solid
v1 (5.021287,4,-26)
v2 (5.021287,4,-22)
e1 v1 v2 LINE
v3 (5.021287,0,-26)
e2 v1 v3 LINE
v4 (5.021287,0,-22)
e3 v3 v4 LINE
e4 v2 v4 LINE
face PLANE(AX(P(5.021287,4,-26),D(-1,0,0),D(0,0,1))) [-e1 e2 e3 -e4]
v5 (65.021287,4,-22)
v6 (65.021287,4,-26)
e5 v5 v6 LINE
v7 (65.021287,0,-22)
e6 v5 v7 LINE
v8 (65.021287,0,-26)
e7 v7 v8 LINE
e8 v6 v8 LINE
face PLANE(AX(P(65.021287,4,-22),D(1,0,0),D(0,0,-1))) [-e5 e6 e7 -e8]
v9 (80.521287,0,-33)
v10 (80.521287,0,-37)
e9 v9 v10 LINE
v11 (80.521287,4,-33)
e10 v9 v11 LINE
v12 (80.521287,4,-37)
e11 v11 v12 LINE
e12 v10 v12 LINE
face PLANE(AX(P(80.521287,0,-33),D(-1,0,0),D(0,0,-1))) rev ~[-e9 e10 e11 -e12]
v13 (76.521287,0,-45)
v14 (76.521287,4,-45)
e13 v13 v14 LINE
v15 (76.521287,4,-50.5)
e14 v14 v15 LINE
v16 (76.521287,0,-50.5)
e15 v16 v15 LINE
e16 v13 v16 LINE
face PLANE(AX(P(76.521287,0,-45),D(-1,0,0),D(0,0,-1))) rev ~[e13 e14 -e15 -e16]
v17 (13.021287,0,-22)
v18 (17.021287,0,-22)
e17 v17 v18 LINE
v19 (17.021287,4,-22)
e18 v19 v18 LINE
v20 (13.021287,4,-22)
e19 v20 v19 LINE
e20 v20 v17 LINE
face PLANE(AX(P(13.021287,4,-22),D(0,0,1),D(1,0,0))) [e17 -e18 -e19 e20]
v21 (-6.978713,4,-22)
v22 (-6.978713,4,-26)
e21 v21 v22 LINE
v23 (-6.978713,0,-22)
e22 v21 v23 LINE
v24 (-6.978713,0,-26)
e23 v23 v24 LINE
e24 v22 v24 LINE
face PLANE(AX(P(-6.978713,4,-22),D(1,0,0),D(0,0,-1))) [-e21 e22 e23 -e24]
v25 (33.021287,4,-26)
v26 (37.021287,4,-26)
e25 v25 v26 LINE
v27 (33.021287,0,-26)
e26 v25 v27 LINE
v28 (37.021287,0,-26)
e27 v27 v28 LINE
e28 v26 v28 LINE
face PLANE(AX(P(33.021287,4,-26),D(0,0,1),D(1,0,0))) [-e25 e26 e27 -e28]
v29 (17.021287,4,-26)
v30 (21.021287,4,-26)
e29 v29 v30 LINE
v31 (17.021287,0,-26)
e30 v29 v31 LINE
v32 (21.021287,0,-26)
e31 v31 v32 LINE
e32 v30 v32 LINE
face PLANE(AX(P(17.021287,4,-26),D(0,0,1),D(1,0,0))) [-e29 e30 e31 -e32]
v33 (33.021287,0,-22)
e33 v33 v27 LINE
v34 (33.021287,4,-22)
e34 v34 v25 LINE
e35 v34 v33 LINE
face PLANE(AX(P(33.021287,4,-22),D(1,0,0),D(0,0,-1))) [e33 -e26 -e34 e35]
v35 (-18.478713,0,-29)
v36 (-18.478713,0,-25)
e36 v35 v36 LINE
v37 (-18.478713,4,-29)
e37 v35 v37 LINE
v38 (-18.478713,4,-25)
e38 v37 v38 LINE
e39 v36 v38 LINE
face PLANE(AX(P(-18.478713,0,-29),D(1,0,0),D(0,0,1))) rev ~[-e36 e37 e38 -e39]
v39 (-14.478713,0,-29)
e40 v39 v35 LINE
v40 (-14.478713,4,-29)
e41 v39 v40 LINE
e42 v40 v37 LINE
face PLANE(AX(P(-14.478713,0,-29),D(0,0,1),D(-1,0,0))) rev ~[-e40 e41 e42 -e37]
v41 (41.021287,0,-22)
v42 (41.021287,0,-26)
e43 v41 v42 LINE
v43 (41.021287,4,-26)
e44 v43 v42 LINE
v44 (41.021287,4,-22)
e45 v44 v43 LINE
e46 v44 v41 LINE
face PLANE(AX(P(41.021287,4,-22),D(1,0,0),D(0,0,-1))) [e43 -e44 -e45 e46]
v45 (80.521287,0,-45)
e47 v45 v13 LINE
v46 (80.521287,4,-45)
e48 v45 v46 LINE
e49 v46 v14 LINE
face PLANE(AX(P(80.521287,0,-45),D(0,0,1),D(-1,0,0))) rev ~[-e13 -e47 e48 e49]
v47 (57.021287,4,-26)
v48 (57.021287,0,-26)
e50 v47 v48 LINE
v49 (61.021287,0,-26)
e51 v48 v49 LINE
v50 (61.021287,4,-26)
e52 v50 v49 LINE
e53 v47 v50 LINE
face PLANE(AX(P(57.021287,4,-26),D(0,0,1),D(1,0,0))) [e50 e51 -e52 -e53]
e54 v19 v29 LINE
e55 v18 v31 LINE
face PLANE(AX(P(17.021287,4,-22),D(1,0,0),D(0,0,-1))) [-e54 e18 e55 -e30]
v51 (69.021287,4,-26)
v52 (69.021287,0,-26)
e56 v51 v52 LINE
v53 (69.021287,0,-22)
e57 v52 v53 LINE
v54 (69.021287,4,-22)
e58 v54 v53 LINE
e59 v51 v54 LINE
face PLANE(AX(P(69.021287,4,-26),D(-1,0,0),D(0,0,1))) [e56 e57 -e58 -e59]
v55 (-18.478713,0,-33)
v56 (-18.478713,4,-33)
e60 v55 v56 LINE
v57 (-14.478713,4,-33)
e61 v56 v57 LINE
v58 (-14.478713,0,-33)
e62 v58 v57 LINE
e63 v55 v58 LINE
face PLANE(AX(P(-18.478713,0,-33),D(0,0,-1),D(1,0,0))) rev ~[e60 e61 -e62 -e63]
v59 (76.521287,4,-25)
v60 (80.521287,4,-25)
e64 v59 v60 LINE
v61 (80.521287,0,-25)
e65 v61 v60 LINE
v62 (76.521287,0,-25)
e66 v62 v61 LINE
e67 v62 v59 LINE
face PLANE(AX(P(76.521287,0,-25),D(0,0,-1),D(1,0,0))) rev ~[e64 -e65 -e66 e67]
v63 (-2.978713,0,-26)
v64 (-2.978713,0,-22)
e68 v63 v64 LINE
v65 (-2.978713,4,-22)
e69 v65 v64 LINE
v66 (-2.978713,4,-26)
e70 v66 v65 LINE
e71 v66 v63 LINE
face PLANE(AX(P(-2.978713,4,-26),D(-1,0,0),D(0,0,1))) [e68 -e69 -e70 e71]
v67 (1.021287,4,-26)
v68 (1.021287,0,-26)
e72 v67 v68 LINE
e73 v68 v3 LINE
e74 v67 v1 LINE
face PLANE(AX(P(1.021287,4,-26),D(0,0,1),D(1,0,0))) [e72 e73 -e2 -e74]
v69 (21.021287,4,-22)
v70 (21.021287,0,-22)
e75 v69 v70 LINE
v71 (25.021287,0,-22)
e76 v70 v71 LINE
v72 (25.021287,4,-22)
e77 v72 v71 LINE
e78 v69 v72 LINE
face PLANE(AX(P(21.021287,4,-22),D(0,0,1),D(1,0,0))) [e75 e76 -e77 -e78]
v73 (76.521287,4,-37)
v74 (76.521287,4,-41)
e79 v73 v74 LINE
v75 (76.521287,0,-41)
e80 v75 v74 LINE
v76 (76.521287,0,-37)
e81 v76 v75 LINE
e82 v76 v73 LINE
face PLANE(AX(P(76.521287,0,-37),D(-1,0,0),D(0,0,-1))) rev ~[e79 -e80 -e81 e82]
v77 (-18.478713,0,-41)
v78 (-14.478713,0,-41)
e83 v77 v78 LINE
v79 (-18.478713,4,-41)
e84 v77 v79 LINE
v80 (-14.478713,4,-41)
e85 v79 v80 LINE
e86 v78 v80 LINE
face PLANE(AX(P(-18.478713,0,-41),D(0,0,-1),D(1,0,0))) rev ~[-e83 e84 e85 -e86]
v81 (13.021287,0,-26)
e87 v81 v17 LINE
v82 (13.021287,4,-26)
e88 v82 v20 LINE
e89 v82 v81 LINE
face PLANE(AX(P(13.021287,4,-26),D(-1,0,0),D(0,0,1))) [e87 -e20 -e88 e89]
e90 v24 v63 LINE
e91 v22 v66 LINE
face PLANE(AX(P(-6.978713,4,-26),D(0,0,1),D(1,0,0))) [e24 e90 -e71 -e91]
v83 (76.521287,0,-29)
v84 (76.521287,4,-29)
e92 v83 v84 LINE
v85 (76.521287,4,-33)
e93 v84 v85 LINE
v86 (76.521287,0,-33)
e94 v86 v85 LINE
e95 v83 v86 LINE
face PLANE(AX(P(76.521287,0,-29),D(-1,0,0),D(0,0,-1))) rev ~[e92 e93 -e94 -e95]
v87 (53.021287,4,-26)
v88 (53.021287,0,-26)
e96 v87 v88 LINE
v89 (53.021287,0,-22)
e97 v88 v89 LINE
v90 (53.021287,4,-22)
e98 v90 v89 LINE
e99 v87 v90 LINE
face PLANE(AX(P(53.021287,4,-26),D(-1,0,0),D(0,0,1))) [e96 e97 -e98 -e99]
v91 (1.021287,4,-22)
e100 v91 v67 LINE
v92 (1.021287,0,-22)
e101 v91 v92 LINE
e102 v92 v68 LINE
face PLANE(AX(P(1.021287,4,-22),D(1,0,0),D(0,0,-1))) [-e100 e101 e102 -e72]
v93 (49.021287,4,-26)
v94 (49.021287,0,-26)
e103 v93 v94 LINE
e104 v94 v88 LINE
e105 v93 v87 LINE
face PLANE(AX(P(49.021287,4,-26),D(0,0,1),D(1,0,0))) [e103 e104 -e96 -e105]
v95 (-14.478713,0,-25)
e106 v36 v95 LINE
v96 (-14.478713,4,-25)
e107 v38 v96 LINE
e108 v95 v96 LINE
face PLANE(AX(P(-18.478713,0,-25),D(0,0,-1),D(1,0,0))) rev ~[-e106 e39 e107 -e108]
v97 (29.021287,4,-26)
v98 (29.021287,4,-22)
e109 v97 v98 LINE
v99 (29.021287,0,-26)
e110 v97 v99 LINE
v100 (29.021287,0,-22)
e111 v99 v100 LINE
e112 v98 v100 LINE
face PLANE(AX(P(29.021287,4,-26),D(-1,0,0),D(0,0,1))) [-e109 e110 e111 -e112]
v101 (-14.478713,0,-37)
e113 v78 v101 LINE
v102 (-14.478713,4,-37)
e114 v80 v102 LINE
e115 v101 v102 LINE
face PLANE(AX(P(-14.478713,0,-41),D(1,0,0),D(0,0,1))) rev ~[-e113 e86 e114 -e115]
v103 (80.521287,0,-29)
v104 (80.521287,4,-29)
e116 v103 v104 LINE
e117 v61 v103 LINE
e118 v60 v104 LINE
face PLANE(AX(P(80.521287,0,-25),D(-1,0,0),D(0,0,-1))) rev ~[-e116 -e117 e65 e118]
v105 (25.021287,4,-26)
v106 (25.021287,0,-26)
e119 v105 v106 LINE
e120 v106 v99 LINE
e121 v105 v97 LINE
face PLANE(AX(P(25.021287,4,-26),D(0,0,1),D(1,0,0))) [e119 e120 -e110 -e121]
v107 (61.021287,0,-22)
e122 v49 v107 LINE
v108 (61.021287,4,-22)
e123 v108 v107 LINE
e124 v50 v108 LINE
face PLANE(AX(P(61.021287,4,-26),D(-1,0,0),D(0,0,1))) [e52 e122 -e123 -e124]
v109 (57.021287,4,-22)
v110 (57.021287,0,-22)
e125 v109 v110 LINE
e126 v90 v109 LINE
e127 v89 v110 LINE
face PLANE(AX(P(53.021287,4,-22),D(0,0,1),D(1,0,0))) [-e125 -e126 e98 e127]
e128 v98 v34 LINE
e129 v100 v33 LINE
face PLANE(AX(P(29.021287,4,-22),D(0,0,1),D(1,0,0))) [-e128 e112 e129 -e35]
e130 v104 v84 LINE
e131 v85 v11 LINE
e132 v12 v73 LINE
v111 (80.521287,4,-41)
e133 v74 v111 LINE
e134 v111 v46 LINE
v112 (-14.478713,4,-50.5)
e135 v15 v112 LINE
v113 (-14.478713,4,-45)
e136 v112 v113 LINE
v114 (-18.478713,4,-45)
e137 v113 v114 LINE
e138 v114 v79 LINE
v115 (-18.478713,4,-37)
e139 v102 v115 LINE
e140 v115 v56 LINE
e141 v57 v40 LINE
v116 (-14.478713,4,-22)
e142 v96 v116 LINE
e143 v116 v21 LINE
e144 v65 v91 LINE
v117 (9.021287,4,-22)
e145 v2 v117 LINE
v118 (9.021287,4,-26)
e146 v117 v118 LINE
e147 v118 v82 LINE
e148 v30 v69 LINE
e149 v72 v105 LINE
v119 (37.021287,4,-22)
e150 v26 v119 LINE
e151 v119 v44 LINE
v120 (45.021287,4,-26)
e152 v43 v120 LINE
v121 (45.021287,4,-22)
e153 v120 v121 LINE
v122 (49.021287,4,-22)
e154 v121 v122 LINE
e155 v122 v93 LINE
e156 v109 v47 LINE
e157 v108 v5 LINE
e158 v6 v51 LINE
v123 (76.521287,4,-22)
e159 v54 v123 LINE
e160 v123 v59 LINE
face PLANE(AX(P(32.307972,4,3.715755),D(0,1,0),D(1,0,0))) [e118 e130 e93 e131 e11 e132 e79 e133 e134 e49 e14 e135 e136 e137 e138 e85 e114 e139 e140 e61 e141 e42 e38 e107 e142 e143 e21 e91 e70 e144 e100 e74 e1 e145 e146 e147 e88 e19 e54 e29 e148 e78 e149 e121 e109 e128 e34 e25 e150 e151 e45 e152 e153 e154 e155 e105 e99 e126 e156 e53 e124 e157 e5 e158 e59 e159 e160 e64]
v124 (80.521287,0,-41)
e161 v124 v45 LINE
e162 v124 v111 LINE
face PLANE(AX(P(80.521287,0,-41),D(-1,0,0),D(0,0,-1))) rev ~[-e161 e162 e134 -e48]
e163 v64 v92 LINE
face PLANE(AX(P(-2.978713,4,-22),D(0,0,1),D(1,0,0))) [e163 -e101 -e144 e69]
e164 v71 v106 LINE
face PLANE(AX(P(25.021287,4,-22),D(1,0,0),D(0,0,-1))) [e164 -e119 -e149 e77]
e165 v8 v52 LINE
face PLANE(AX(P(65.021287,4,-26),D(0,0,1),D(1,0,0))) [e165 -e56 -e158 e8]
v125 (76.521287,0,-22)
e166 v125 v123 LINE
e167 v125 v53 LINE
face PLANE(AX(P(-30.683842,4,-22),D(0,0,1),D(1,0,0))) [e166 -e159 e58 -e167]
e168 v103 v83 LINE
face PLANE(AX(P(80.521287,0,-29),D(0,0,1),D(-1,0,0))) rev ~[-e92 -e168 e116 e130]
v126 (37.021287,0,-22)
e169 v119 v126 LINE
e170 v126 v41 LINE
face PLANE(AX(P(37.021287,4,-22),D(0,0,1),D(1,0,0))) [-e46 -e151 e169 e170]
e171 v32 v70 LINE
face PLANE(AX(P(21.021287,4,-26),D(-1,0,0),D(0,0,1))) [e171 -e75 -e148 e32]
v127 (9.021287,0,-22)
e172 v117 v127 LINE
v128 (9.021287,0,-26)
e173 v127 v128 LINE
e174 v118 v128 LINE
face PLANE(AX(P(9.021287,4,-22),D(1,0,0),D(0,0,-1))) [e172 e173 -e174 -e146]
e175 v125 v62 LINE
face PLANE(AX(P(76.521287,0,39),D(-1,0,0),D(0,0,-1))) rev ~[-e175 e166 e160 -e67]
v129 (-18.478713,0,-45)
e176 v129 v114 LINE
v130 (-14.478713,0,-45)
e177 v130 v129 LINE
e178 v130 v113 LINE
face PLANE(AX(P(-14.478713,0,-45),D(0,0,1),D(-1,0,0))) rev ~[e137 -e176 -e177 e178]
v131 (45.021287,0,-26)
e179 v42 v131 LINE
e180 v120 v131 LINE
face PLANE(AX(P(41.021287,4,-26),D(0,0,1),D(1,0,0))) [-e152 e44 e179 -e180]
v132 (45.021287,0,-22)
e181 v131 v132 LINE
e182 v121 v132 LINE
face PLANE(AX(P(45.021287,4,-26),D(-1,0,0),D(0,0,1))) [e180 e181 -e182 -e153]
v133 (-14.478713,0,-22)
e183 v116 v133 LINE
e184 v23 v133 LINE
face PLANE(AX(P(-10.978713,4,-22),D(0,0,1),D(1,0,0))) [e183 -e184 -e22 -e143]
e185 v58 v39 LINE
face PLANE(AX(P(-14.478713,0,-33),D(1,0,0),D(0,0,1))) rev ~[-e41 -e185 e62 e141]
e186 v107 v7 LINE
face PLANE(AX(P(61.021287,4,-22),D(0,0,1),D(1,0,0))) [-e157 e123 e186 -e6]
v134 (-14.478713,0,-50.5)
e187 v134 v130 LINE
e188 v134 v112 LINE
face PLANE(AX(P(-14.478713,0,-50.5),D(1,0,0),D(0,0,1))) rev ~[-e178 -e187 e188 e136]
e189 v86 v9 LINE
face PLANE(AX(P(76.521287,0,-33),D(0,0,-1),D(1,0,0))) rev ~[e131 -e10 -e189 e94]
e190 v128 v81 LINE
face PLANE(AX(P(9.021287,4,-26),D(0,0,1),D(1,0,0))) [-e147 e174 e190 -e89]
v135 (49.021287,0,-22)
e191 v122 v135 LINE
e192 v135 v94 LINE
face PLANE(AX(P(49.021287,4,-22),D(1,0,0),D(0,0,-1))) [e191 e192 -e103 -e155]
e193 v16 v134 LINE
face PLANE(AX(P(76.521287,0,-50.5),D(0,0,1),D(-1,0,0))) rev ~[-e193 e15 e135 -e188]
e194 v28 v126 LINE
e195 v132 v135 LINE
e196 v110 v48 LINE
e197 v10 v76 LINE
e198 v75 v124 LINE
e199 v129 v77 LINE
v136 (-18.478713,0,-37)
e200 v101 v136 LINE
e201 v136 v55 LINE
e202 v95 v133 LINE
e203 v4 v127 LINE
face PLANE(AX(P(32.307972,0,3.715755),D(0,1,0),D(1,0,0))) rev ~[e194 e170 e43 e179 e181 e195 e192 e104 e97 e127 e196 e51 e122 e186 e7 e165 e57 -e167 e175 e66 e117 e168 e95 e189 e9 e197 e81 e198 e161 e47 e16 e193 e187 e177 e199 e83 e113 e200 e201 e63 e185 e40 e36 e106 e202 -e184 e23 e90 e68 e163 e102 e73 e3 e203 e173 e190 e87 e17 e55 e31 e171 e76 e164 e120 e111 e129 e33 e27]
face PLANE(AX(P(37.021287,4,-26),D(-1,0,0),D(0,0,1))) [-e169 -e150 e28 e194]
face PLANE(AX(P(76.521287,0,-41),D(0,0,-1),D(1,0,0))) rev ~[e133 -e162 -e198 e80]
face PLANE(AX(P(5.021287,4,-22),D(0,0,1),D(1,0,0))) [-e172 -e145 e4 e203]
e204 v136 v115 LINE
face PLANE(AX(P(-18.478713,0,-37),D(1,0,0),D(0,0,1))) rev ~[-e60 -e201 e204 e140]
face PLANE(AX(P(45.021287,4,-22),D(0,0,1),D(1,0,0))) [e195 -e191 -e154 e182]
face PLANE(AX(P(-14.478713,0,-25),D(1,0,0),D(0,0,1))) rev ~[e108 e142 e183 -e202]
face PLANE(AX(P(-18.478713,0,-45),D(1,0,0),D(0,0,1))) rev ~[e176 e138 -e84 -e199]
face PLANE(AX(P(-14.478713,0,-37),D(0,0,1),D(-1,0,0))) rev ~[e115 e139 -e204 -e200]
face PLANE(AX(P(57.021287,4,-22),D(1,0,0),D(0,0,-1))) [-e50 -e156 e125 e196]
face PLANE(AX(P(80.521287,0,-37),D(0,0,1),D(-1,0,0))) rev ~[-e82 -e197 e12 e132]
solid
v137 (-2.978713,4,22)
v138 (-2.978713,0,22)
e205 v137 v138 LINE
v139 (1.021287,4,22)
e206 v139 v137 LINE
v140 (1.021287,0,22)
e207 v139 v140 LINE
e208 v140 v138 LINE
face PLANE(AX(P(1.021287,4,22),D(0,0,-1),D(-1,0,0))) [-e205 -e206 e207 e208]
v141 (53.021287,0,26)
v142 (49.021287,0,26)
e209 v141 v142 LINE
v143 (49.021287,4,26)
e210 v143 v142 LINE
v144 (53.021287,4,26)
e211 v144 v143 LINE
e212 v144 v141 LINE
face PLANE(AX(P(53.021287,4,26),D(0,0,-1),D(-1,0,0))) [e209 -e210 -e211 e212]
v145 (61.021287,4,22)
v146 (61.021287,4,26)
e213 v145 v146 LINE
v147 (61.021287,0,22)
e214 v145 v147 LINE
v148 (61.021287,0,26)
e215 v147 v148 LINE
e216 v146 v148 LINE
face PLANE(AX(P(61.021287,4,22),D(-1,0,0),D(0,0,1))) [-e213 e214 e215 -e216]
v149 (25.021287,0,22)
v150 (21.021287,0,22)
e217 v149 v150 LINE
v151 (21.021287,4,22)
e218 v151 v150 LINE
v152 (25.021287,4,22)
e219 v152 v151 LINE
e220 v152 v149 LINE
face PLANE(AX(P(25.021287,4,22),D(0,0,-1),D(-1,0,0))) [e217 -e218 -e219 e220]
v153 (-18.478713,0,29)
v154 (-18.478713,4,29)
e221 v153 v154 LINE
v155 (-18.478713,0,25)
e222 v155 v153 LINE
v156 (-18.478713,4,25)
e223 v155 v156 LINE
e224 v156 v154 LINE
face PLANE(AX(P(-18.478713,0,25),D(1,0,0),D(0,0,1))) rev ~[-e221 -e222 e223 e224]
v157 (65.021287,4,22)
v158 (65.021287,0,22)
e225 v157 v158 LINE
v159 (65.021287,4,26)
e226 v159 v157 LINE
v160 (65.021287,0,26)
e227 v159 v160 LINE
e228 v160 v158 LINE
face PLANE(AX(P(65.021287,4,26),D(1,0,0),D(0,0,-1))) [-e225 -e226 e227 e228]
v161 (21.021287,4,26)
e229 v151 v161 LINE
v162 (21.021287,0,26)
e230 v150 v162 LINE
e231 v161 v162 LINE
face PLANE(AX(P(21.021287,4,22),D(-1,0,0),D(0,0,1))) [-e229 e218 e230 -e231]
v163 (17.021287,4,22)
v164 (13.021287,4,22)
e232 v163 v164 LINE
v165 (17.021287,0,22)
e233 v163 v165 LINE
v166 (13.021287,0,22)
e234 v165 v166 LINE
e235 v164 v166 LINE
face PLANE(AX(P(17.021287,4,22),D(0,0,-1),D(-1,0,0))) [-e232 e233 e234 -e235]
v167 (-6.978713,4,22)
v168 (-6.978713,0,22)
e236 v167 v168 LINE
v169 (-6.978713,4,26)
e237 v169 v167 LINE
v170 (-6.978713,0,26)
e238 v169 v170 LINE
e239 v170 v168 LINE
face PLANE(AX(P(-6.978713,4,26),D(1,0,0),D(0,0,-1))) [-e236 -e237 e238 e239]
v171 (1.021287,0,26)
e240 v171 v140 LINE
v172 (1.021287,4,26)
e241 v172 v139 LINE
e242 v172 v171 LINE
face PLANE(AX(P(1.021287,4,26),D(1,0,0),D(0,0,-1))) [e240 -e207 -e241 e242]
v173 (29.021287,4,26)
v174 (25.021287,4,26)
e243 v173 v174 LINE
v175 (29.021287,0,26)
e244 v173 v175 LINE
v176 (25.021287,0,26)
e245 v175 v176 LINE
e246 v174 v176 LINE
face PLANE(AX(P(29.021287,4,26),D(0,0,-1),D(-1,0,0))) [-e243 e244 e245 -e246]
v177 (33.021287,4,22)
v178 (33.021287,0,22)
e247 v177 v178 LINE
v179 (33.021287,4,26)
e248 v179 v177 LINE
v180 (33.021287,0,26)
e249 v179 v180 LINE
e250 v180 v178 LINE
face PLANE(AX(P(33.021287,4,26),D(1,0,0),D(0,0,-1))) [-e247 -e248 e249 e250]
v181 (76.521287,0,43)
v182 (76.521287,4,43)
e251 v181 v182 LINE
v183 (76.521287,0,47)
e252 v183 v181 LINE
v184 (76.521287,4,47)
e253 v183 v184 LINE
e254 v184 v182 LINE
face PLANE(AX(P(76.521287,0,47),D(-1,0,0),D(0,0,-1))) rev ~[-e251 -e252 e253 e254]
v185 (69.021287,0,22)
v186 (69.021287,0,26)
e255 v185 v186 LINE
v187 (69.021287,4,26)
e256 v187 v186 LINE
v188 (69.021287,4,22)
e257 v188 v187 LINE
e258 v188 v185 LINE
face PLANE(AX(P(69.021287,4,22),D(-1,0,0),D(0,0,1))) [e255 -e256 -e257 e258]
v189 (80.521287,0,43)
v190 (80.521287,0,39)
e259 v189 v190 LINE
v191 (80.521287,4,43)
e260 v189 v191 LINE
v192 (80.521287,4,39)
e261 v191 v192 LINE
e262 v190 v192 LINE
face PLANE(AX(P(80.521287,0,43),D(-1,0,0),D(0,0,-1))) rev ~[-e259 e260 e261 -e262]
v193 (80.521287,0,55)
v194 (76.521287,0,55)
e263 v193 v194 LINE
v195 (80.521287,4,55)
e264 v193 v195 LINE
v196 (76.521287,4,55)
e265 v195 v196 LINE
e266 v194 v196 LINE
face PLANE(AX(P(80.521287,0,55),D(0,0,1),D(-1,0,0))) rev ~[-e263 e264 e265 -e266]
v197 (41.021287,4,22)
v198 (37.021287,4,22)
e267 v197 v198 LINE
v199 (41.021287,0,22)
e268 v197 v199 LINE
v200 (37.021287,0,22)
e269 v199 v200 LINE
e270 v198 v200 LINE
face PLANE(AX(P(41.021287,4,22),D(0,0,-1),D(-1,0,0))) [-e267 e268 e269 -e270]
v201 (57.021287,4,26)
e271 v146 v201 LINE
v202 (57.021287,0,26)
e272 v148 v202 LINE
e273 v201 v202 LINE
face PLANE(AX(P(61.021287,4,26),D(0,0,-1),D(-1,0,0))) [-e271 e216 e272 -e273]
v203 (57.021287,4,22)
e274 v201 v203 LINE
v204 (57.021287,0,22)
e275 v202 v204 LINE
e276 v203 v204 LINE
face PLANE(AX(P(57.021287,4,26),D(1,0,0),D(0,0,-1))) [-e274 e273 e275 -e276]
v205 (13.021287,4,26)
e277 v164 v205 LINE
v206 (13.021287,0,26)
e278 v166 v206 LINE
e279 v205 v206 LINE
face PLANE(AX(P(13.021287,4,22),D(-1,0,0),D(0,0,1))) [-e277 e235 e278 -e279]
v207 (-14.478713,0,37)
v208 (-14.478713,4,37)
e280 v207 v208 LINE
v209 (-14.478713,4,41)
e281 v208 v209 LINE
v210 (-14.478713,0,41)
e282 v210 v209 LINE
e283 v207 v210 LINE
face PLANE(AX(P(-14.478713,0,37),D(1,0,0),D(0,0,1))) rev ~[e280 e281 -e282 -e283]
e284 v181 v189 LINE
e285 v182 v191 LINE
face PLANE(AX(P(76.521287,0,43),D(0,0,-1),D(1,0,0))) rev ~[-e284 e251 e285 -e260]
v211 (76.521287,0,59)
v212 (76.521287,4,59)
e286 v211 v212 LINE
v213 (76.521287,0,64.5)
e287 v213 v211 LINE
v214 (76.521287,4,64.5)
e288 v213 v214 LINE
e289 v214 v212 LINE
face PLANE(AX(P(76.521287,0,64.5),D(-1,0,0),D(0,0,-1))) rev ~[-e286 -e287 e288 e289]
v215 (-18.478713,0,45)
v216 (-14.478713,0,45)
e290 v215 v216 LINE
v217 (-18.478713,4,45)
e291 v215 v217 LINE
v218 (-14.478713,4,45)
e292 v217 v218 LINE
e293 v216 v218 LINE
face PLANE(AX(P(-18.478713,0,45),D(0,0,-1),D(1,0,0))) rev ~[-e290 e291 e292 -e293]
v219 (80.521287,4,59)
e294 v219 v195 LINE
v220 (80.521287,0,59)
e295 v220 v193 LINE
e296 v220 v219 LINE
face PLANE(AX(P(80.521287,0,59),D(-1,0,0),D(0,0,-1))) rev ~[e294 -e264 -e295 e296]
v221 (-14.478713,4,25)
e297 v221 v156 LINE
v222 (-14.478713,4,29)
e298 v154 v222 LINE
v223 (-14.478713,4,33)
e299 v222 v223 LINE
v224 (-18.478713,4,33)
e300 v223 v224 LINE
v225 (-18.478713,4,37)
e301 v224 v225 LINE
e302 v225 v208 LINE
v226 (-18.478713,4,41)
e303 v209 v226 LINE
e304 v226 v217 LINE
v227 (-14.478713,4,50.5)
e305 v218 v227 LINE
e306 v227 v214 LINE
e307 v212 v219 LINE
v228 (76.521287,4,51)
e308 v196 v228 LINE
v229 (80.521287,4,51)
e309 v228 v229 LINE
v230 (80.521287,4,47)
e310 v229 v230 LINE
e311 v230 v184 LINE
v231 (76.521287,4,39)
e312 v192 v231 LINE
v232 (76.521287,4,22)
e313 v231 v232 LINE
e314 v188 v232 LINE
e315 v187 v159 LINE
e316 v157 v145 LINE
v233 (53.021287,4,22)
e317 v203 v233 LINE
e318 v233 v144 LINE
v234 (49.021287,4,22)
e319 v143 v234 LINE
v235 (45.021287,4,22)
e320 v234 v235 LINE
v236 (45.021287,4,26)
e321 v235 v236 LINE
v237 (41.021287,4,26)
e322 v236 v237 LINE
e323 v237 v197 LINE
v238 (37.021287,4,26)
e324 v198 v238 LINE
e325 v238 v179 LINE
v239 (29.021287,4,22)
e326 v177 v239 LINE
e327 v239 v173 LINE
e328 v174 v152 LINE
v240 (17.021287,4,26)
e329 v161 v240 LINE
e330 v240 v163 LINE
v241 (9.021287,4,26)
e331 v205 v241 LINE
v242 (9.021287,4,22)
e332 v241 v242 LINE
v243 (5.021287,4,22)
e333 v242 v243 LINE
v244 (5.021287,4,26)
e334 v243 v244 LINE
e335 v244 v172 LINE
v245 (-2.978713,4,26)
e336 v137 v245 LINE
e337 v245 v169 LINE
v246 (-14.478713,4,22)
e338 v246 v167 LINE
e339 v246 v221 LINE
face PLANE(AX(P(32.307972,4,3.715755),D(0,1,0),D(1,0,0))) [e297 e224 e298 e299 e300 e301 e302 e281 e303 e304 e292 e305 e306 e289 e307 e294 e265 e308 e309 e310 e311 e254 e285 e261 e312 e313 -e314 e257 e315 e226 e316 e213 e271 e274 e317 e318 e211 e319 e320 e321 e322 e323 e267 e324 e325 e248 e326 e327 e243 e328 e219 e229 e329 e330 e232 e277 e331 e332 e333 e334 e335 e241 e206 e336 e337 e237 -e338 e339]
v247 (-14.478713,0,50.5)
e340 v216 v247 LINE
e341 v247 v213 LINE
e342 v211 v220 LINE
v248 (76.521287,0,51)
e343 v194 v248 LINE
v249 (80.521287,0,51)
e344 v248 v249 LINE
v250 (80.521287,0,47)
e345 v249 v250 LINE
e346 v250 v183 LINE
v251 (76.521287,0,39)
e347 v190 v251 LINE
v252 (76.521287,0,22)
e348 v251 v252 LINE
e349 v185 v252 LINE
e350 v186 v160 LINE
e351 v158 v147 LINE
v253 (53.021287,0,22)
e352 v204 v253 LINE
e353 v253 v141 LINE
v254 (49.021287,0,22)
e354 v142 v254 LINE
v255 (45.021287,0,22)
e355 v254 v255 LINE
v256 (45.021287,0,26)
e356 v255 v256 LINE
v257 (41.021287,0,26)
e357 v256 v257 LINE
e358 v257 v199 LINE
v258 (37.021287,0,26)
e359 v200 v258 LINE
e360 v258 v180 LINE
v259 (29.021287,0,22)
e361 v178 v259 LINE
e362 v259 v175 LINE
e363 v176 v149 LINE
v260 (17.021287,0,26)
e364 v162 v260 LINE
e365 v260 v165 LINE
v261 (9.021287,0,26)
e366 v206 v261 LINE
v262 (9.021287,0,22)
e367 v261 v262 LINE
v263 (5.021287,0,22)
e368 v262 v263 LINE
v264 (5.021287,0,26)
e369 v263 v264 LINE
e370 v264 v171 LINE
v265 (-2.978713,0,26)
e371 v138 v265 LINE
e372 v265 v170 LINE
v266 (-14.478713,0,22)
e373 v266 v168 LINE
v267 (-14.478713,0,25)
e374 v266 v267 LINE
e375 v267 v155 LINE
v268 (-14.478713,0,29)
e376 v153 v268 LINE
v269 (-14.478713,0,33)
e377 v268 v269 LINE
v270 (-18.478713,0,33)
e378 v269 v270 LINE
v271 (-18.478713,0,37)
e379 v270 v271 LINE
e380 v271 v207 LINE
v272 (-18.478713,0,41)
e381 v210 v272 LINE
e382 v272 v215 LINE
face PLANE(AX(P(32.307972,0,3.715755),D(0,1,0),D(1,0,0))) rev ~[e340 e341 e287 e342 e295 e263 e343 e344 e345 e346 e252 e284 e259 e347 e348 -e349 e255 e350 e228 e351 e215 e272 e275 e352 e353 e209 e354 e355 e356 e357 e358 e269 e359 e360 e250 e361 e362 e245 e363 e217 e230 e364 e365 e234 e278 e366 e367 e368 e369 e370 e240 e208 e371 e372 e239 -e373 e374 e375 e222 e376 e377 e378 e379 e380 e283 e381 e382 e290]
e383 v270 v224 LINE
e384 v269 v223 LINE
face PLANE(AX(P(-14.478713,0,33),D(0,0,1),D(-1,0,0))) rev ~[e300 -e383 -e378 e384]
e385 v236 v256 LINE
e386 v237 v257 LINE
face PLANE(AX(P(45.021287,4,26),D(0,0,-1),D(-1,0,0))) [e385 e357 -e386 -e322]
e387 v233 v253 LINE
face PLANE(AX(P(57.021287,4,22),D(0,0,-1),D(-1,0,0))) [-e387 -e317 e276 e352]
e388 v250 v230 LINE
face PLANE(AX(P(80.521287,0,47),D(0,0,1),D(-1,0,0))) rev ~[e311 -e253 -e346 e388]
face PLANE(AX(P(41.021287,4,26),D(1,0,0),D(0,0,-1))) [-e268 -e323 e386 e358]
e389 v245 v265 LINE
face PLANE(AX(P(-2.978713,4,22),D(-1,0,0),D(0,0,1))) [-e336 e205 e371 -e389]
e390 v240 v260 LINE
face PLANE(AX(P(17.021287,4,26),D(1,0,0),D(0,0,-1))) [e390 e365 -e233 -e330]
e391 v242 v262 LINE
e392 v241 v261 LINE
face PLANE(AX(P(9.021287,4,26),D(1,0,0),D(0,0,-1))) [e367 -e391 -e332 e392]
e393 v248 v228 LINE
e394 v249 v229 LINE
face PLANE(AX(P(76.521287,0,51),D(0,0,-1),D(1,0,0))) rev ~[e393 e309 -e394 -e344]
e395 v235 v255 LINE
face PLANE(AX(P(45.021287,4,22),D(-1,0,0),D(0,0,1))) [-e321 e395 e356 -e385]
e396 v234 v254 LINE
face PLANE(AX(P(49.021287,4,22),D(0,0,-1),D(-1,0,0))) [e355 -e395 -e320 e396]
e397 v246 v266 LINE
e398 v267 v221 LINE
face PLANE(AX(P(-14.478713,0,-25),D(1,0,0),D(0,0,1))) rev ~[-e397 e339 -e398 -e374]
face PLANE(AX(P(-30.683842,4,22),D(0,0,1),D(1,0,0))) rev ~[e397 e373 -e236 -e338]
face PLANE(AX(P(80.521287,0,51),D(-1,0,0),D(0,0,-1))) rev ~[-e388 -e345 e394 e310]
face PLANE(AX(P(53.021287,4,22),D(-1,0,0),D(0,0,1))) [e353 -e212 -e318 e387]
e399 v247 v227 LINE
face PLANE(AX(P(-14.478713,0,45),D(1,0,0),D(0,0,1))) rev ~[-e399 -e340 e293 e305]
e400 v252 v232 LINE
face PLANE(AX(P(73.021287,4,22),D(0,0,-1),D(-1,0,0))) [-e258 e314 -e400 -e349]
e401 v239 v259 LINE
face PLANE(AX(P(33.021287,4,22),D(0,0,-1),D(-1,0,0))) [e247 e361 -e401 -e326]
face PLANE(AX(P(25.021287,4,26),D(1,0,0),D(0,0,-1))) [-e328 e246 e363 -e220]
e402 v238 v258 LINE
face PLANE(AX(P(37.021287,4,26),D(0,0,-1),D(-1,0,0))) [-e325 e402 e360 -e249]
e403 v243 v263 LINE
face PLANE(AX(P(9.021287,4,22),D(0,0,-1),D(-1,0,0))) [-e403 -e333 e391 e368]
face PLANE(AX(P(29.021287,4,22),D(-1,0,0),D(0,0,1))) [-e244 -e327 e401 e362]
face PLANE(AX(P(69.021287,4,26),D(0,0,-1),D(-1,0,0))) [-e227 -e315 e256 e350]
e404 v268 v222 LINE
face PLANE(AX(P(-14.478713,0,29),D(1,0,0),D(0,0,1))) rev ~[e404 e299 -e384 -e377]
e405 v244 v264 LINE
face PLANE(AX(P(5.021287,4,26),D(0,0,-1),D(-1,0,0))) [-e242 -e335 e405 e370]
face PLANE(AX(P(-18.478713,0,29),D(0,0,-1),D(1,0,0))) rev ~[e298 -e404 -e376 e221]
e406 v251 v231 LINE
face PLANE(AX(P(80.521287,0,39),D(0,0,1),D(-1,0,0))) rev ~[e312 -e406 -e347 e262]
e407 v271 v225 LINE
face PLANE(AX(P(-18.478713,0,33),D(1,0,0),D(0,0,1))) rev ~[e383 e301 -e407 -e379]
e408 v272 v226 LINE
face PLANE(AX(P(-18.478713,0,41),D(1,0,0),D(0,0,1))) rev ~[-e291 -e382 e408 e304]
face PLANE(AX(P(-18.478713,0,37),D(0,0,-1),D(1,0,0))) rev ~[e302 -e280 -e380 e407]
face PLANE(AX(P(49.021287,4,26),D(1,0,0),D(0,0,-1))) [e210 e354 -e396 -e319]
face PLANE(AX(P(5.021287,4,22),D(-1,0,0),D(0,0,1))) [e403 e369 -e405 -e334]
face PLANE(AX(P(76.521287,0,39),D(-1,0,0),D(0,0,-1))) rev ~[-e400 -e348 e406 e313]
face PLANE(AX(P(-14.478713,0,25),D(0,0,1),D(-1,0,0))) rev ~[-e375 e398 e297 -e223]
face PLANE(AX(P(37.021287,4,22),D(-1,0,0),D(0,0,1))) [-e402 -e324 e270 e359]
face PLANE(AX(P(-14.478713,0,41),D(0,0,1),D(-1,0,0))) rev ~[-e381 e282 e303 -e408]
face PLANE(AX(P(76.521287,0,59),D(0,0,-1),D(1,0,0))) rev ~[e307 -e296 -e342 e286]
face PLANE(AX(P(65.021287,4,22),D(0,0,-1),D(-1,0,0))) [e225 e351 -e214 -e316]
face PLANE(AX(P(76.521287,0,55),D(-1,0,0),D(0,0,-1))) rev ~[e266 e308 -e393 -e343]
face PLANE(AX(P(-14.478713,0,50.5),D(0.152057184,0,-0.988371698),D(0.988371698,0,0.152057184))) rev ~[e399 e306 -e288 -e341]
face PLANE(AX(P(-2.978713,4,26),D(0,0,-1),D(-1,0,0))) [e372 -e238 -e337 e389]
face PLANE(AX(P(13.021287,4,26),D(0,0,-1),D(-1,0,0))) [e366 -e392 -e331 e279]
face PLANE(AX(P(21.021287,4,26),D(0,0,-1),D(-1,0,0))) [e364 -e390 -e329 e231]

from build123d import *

# Parameters (mm, degrees)
BOSS_EXTRUDE1_DEPTH = 4
SKETCH4_W           = 141.578614927
SKETCH4_H           = 44
CUT_EXTRUDE1_DEPTH  = 4
CUT_EXTRUDE3_DEPTH  = 4


with BuildPart() as part:
    # Sketch1 → Boss-Extrude1 (new body)
    with BuildSketch(Plane(origin=(0, 0, 0), x_dir=(1, 0, 0), z_dir=(0, 1, 0))):
        Polygon((-14.478713339, 45), (-18.478713339, 45), (-18.478713339, 41), (-14.478713339, 41), (-14.478713339, 37), (-18.478713339, 37), (-18.478713339, 33), (-14.478713339, 33), (-14.478713339, 29), (-18.478713339, 29), (-18.478713339, 25), (-14.478713339, 25), (-14.478713339, -25), (-18.478713339, -25), (-18.478713339, -29), (-14.478713339, -29), (-14.478713339, -33), (-18.478713339, -33), (-18.478713339, -37), (-14.478713339, -37), (-14.478713339, -41), (-18.478713339, -41), (-18.478713339, -45), (-14.478713339, -45), (-14.478713339, -50.5), (76.521286661, -64.5), (76.521286661, -59), (80.521286661, -59), (80.521286661, -55), (76.521286661, -55), (76.521286661, -51), (80.521286661, -51), (80.521286661, -47), (76.521286661, -47), (76.521286661, -43), (80.521286661, -43), (80.521286661, -39), (76.521286661, -39), (76.521286661, 25), (80.521286661, 25), (80.521286661, 29), (76.521286661, 29), (76.521286661, 33), (80.521286661, 33), (80.521286661, 37), (76.521286661, 37), (76.521286661, 41), (80.521286661, 41), (80.521286661, 45), (76.521286661, 45), (76.521286661, 50.5), (-14.478713339, 50.5), align=None)
    extrude(amount=BOSS_EXTRUDE1_DEPTH)

    # Sketch4 → Cut-Extrude1 (cut)
    with BuildSketch(Plane(origin=(0, 4, 0), x_dir=(1, 0, 0), z_dir=(0, 1, 0))):
        with Locations((40.105465911, 0)):
            Rectangle(SKETCH4_W, SKETCH4_H)
    extrude(amount=-CUT_EXTRUDE1_DEPTH, mode=Mode.SUBTRACT)

    # Sketch5 → Cut-Extrude3 (cut)
    with BuildSketch(Plane(origin=(0, 4, 0), x_dir=(1, 0, 0), z_dir=(0, 1, 0))):
        Polygon((29.021286661, 22), (33.021286661, 22), (33.021286661, 26), (37.021286661, 26), (37.021286661, 22), (41.021286661, 22), (41.021286661, 26), (45.021286661, 26), (45.021286661, 22), (49.021286661, 22), (49.021286661, 26), (53.021286661, 26), (53.021286661, 22), (57.021286661, 22), (57.021286661, 26), (61.021286661, 26), (61.021286661, 22), (65.021286661, 22), (65.021286661, 26), (69.021286661, 26), (69.021286661, 22), (73.021286661, 22), (73.021286661, 13.939001522), (-10.978713339, 13.939001522), (-10.978713339, 22), (-6.978713339, 22), (-6.978713339, 26), (-2.978713339, 26), (-2.978713339, 22), (1.021286661, 22), (1.021286661, 26), (5.021286661, 26), (5.021286661, 22), (9.021286661, 22), (9.021286661, 26), (13.021286661, 26), (13.021286661, 22), (17.021286661, 22), (17.021286661, 26), (21.021286661, 26), (21.021286661, 22), (25.021286661, 22), (25.021286661, 26), (29.021286661, 26), align=None)
        Polygon((29.021286661, -22), (29.021286661, -26), (25.021286661, -26), (25.021286661, -22), (21.021286661, -22), (21.021286661, -26), (17.021286661, -26), (17.021286661, -22), (13.021286661, -22), (13.021286661, -26), (9.021286661, -26), (9.021286661, -22), (5.021286661, -22), (5.021286661, -26), (1.021286661, -26), (1.021286661, -22), (-2.978713339, -22), (-2.978713339, -26), (-6.978713339, -26), (-6.978713339, -22), (-10.978713339, -22), (-10.978713339, -13.939001522), (73.021286661, -13.939001522), (73.021286661, -22), (69.021286661, -22), (69.021286661, -26), (65.021286661, -26), (65.021286661, -22), (61.021286661, -22), (61.021286661, -26), (57.021286661, -26), (57.021286661, -22), (53.021286661, -22), (53.021286661, -26), (49.021286661, -26), (49.021286661, -22), (45.021286661, -22), (45.021286661, -26), (41.021286661, -26), (41.021286661, -22), (37.021286661, -22), (37.021286661, -26), (33.021286661, -26), (33.021286661, -22), align=None)
    extrude(amount=-CUT_EXTRUDE3_DEPTH, mode=Mode.SUBTRACT)


solid = part.part
